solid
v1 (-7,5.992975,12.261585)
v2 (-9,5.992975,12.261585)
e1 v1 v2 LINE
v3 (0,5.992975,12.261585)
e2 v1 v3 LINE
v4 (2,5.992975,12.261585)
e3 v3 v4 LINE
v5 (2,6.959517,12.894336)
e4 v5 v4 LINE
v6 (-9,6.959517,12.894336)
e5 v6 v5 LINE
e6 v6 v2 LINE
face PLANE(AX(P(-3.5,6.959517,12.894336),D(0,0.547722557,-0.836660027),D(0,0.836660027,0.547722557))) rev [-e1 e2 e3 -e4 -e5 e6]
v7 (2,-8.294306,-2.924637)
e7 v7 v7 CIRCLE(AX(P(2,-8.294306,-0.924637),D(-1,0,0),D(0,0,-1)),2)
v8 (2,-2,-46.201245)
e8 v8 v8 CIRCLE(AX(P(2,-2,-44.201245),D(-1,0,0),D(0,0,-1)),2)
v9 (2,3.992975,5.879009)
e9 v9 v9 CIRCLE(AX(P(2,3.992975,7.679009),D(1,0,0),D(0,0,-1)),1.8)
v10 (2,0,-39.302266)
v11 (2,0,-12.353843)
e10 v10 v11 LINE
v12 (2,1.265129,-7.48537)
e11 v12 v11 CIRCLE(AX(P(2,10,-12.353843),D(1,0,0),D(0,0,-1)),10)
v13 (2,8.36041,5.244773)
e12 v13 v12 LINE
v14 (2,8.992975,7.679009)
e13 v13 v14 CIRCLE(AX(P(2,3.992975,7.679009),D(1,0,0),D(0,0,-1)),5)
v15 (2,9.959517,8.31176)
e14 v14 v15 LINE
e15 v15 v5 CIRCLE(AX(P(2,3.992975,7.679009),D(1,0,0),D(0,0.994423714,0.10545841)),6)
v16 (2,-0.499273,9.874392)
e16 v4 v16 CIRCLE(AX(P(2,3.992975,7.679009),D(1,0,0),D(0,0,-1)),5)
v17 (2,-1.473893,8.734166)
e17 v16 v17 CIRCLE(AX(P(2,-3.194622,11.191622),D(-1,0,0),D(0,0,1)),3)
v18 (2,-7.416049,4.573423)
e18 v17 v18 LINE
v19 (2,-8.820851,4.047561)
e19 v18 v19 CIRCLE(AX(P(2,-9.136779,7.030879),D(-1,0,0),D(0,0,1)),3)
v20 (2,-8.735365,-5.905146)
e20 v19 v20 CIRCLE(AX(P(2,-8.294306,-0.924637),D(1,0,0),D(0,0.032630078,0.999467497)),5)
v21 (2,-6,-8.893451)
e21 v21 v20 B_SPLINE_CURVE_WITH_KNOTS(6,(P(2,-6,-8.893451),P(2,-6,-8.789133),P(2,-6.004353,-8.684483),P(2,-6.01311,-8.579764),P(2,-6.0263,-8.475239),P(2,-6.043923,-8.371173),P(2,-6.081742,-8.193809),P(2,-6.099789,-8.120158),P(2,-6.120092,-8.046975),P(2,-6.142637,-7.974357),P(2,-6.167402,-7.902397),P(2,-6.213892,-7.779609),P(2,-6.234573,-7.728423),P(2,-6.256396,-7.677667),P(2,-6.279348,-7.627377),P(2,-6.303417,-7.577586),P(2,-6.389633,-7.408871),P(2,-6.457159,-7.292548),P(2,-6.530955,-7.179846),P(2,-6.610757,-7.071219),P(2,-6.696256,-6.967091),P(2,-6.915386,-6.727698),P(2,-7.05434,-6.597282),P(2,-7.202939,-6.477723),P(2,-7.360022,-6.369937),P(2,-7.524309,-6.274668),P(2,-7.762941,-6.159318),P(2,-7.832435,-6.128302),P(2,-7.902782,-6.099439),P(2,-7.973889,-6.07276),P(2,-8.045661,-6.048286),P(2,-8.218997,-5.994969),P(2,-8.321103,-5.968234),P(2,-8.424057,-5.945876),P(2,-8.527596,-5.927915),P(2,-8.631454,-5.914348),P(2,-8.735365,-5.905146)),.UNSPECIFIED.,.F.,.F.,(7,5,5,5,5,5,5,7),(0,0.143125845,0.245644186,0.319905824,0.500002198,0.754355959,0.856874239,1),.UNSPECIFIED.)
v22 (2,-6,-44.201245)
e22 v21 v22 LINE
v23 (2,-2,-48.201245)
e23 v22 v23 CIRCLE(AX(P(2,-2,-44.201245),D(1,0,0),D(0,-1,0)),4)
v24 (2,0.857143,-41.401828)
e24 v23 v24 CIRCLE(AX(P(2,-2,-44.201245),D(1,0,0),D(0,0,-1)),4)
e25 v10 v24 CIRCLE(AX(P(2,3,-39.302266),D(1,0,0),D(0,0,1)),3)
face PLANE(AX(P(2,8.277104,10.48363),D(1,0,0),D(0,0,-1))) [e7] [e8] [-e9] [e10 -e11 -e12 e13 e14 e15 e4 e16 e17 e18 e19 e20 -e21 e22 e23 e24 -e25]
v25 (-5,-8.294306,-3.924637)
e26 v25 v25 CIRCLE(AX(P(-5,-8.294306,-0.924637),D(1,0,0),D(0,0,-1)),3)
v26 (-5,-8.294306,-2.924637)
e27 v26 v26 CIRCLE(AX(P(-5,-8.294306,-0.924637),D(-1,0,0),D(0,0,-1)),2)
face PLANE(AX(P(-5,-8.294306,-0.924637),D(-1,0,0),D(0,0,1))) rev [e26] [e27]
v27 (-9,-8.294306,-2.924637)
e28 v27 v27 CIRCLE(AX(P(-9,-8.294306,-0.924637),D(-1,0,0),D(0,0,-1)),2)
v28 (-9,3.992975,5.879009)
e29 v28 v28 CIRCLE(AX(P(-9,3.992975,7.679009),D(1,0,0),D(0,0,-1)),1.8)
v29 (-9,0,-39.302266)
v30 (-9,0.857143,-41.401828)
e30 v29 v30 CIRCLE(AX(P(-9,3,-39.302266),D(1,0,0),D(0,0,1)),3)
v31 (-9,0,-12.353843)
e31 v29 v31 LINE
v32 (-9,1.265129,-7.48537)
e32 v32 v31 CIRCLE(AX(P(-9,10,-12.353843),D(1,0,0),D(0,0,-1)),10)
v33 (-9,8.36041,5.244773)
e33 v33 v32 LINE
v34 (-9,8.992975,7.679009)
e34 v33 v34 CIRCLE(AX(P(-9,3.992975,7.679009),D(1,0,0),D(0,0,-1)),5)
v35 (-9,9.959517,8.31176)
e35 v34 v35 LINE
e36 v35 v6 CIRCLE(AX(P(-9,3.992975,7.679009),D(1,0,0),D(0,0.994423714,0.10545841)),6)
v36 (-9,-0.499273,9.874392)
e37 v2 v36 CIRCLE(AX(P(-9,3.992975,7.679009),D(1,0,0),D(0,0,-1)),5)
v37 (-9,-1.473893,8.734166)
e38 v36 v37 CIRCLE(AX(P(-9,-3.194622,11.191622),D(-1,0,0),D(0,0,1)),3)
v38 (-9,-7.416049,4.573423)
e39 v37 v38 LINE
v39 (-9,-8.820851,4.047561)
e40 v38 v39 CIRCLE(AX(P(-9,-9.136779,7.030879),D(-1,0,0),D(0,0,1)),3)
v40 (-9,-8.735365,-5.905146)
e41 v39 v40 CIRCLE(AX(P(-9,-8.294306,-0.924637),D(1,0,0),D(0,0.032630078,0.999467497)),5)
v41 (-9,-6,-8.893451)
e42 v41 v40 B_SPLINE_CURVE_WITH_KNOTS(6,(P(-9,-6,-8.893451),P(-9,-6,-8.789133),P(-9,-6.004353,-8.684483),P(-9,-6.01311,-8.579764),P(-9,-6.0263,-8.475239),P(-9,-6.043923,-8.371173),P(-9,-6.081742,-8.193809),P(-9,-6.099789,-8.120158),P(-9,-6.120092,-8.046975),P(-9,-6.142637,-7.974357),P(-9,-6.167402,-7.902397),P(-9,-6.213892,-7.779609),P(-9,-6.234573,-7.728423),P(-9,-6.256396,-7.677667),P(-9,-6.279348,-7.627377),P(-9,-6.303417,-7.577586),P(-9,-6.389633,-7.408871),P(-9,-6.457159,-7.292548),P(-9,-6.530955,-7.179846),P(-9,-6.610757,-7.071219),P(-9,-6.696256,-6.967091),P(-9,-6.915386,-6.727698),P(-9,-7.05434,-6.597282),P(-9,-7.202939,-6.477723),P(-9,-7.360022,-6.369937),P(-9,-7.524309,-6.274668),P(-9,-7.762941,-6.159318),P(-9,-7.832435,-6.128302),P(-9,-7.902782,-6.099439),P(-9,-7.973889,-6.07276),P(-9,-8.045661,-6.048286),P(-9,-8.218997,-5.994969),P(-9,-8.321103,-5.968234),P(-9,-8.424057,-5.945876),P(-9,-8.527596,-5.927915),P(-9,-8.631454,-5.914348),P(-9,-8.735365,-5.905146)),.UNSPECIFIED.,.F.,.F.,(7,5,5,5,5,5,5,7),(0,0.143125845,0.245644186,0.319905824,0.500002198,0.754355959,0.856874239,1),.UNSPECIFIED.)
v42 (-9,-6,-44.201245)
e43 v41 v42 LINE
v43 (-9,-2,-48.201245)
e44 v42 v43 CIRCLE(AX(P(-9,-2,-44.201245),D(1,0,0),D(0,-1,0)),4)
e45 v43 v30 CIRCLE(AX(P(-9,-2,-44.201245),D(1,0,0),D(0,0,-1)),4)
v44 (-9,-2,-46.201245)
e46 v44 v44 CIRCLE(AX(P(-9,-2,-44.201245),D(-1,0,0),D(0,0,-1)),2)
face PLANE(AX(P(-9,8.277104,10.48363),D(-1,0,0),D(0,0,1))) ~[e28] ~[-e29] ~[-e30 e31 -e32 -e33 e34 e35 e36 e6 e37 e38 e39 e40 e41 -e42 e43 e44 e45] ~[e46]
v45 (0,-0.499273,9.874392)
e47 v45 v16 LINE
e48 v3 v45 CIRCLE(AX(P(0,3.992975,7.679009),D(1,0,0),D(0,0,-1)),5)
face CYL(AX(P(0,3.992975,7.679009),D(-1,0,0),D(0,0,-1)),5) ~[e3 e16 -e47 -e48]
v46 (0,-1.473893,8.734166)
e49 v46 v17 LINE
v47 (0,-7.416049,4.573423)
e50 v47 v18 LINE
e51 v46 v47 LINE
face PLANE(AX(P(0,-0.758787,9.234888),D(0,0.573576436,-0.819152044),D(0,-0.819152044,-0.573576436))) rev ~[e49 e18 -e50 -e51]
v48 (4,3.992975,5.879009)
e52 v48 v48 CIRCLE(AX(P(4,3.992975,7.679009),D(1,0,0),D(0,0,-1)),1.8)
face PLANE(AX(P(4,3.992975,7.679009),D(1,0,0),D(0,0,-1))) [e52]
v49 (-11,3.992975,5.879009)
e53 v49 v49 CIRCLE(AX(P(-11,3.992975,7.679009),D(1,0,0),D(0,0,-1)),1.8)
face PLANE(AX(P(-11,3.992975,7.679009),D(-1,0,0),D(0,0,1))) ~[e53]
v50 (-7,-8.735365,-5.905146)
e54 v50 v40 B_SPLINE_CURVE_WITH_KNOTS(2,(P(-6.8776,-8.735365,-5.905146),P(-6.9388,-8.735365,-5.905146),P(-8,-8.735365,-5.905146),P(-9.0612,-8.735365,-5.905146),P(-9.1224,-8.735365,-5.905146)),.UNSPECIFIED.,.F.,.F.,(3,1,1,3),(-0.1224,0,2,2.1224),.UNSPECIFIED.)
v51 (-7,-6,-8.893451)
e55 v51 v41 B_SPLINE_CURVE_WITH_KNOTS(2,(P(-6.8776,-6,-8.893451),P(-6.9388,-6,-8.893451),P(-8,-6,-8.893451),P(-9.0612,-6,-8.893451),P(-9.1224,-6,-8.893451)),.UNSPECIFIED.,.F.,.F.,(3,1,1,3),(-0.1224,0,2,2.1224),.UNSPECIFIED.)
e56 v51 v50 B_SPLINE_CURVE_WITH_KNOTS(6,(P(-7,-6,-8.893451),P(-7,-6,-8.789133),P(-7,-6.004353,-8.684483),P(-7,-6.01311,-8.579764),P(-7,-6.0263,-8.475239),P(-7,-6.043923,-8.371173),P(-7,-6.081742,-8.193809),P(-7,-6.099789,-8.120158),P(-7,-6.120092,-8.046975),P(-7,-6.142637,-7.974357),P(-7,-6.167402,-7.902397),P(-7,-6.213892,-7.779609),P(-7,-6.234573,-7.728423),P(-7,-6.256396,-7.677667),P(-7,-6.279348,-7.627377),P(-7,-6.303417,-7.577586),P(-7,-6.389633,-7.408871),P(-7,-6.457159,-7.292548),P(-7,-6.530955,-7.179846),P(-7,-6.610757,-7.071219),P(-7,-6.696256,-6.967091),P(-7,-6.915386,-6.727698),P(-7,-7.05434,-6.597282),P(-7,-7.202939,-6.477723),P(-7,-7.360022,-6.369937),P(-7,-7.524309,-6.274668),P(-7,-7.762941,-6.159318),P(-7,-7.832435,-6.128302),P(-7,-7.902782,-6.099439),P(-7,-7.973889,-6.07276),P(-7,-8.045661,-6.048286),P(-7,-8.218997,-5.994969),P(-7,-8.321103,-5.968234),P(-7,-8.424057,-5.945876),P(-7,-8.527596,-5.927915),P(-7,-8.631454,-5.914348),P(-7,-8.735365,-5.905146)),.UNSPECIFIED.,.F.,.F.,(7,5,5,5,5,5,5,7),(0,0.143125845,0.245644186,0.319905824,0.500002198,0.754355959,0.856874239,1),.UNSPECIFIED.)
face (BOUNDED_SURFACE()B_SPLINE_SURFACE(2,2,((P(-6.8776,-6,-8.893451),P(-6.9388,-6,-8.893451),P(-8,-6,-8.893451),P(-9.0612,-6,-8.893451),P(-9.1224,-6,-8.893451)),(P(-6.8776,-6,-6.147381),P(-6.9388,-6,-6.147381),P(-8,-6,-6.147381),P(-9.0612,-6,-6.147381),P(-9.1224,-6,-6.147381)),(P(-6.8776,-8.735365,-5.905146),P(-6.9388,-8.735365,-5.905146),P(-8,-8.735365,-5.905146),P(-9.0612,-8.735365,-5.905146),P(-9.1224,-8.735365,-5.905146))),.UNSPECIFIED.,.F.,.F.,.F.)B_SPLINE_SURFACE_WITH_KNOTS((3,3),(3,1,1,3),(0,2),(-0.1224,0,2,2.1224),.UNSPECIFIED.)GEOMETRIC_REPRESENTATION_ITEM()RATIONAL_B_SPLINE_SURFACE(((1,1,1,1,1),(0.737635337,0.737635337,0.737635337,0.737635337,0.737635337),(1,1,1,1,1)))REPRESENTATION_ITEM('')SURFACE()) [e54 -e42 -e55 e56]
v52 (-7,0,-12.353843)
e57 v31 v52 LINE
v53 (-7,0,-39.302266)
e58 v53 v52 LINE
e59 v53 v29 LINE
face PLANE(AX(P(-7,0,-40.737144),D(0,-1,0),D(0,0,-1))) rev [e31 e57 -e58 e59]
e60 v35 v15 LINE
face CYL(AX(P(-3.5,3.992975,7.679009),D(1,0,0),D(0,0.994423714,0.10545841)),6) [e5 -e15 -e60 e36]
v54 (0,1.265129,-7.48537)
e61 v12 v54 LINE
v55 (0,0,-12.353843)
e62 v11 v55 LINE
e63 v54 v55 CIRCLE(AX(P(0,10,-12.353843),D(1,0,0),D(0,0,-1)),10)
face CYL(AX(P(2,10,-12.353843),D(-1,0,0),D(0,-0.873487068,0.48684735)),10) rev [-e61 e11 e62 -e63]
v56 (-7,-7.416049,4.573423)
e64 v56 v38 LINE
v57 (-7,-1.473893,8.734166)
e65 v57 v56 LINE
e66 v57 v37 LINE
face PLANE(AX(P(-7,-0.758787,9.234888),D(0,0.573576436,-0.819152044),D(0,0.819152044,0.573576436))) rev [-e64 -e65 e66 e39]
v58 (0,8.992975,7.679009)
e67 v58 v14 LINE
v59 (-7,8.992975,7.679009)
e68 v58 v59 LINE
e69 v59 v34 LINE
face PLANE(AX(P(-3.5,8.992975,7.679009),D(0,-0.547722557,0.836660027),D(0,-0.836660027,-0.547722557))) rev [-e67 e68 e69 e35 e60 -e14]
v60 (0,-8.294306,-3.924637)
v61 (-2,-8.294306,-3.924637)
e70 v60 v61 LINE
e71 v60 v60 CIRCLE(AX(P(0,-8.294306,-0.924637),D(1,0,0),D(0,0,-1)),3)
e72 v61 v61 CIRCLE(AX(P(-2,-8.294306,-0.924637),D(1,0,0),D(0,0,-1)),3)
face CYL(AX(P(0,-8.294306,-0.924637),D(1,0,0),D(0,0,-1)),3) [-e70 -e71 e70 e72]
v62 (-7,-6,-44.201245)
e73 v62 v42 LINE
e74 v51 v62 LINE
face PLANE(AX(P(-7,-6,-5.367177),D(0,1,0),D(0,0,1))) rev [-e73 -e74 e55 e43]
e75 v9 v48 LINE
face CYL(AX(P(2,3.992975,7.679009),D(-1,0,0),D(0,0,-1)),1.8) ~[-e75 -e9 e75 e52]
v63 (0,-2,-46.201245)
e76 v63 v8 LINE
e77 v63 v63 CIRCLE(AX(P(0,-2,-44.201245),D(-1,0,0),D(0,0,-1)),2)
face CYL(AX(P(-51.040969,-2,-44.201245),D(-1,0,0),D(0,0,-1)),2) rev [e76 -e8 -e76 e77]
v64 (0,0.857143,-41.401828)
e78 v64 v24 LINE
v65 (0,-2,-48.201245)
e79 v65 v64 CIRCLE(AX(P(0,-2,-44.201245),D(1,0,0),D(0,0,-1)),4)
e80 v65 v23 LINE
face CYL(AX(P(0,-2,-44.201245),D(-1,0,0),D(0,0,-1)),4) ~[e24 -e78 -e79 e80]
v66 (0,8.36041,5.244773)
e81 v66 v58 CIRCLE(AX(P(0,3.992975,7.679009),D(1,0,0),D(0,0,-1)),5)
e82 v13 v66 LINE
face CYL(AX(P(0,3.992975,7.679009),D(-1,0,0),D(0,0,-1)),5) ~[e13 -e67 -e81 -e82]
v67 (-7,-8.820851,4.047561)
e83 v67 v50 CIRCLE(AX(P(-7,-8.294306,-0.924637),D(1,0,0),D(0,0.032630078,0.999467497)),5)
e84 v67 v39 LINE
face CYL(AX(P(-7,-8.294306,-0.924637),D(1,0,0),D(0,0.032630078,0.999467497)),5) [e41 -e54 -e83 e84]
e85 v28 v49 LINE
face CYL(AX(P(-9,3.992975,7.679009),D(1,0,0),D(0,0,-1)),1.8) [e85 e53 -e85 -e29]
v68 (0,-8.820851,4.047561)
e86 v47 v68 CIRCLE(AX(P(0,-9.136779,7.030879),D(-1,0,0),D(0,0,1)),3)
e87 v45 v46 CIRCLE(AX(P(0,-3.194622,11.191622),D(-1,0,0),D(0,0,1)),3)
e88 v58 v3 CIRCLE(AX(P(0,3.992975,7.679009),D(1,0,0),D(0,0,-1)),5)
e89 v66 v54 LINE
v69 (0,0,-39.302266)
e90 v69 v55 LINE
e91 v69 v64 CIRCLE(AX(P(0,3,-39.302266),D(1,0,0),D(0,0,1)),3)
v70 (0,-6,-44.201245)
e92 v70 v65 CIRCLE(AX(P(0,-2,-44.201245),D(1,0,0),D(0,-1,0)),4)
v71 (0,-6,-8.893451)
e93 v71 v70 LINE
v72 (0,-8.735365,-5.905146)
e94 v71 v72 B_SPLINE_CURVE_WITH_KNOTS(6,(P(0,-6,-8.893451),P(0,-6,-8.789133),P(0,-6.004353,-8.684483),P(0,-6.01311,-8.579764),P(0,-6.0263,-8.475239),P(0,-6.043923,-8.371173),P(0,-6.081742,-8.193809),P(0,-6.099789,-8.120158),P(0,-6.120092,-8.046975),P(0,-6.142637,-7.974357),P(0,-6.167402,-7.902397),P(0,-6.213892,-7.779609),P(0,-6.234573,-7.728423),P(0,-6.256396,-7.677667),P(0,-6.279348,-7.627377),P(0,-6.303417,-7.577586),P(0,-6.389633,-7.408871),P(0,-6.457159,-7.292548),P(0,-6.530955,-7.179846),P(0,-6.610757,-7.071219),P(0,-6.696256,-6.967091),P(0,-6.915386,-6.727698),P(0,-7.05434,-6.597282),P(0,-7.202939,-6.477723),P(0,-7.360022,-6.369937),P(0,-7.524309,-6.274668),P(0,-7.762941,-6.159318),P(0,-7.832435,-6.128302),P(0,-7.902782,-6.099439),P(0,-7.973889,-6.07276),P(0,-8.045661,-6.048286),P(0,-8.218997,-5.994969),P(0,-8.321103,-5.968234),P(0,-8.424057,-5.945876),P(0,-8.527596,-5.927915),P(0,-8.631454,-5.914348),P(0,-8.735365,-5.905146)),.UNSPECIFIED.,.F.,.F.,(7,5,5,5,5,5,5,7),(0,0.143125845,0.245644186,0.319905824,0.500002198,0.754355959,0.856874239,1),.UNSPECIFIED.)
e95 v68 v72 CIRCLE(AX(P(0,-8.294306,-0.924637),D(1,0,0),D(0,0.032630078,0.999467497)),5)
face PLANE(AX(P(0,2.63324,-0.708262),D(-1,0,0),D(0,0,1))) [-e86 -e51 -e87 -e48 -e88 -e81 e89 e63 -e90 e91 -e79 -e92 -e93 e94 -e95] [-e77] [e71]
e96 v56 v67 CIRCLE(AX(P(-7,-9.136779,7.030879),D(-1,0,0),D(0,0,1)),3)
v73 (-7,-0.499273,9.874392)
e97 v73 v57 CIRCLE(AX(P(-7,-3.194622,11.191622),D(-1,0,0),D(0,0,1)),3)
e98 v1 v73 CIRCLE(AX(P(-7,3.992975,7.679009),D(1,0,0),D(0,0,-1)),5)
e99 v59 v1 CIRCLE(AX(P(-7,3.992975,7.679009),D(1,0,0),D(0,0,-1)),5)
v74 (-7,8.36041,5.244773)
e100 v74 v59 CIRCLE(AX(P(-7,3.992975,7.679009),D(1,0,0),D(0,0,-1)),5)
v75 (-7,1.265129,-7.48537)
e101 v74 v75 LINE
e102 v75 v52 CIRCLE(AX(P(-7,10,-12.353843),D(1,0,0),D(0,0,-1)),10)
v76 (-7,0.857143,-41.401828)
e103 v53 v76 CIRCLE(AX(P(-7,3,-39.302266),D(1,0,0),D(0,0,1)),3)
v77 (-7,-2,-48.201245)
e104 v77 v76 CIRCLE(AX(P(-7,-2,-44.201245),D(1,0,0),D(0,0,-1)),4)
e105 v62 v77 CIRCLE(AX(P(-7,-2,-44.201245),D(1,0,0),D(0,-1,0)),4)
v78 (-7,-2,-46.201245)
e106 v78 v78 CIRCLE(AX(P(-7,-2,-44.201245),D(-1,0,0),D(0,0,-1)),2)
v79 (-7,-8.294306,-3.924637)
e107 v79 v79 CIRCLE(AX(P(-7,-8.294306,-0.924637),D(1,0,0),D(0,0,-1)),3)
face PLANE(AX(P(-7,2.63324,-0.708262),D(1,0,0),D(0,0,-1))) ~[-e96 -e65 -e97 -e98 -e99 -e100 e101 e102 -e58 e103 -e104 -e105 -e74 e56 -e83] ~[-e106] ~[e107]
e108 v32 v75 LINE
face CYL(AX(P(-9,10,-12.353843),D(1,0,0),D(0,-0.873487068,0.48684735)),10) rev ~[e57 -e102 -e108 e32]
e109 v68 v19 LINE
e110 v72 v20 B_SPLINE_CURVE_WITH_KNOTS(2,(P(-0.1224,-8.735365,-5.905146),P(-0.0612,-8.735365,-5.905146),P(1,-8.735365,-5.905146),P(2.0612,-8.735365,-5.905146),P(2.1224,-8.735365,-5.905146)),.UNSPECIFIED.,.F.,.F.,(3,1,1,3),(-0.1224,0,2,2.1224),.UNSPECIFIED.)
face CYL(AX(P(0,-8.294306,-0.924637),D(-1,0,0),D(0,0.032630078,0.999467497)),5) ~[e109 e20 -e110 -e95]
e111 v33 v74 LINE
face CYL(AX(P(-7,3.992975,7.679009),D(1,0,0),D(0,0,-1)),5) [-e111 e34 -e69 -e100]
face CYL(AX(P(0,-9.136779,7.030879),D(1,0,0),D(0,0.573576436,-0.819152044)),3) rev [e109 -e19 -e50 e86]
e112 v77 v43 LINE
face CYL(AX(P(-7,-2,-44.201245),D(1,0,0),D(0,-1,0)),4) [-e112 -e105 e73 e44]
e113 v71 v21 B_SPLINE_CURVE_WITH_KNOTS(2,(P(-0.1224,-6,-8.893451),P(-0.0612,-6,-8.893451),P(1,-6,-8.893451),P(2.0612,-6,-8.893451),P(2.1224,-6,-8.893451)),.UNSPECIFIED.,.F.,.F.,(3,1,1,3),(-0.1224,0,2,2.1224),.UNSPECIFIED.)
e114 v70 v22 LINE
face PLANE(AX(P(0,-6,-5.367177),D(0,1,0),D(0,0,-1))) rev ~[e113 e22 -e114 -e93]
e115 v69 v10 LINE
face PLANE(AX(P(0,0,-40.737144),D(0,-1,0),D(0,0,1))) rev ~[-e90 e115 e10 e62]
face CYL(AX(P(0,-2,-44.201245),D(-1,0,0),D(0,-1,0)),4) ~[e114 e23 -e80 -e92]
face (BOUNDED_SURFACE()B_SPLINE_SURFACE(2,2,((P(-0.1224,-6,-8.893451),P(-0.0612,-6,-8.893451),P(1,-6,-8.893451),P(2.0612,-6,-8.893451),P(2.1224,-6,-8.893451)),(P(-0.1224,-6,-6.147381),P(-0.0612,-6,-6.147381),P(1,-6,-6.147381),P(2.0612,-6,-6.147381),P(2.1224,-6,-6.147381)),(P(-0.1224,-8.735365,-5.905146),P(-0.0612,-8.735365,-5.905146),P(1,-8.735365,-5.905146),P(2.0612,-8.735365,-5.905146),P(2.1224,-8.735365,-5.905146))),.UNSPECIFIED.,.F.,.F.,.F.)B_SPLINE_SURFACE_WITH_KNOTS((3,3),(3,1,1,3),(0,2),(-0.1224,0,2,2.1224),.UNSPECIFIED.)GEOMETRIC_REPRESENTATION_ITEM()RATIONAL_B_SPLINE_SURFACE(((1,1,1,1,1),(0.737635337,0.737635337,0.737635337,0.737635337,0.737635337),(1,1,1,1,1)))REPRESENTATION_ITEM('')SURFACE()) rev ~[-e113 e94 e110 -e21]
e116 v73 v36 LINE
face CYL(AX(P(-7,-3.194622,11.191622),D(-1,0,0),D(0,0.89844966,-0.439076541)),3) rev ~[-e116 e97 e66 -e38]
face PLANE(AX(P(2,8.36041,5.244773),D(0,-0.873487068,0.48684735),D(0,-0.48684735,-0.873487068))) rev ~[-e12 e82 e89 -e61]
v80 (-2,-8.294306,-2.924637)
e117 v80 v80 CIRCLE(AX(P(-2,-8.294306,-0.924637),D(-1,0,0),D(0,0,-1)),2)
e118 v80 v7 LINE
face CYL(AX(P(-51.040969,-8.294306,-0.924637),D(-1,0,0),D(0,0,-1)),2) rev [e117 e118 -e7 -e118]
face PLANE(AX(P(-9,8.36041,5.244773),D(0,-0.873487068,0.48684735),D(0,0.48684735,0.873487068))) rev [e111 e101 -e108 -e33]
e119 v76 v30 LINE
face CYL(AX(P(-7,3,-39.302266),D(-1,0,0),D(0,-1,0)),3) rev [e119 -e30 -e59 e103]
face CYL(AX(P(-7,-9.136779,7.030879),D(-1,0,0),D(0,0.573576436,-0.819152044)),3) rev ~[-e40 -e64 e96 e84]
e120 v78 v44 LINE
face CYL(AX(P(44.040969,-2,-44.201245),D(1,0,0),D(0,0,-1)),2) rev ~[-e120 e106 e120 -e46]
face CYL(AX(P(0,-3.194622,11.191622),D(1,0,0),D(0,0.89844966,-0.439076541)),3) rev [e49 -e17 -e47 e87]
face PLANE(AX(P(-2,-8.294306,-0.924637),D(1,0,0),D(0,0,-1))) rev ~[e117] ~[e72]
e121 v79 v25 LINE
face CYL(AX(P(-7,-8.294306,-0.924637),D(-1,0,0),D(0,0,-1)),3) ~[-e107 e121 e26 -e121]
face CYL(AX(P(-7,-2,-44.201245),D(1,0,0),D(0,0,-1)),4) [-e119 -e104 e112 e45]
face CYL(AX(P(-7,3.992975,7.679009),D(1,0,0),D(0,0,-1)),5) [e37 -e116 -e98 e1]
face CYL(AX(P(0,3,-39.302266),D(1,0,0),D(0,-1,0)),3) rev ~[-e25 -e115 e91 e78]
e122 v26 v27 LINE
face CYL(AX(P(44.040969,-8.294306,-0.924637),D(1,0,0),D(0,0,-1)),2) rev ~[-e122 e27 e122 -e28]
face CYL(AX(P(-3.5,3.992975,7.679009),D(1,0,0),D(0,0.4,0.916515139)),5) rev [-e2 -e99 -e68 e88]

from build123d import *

# Parameters (mm, degrees)
EXTRUDE_1_DEPTH          = 2
SKETCH_1_4_R             = 3
EXTRUDE_2_DEPTH          = 2
CUT_EXTRUDE_1_DEPTH      = 51.040969284
CUT_EXTRUDE_1_DEPTH_BACK = 51.040969284
SKETCH_1_3_R             = 2
FILLET_1_R               = 3
EXTRUDE_START            = -2
SKETCH_2_R               = 2
EXTRUDE_3_DEPTH          = 2
SKETCH_2_3_R             = 1.8
EXTRUDE_4_DEPTH          = 2
EXTRUDE_6_DEPTH          = 2
EXTRUDE_START_2          = -5.5
EXTRUDE_5_DEPTH          = 5.5
FILLET_3_R               = 10


with BuildPart() as part:
    # 草图1 → 凸台-拉伸1 (new body)
    with BuildSketch(Plane(origin=(0, 0, 0), x_dir=(0, 0, -1), z_dir=(1, 0, 0))):
        with BuildLine():
            Line((40.737143614, 0), (0, 0))
            Line((0, 0), (2.48051592, -3.542543867))
            ThreePointArc((2.48051592, -3.542543867), (4.165783411, -4.487079684), (5.367176995, -6))
            Line((5.367176995, -6), (44.201245229, -6))
            ThreePointArc((44.201245229, -6), (40.737143614, -4), (40.737143614, 0))
        make_face()
        with BuildLine():
            Line((2.48051592, -3.542543867), (0, 0))
            Line((0, 0), (-2.681672007, 3.829824531))
            ThreePointArc((-2.681672007, 3.829824531), (-4.811127311, -0.102785303), (-9.234888361, -0.758786959))
            Line((-9.234888361, -0.758786959), (-4.072700434, -8.131155358))
            ThreePointArc((-4.072700434, -8.131155358), (-1.94324513, -4.198545524), (2.48051592, -3.542543867))
        make_face()
        with BuildLine():
            ThreePointArc((48.201245229, -2), (45.23652141, 1.863703305), (40.737143614, 0))
            Line((40.737143614, 0), (44.201245229, 0))
            ThreePointArc((44.201245229, 0), (45.615458792, -0.585786438), (46.201245229, -2))
            ThreePointArc((46.201245229, -2), (45.615458792, -3.414213562), (44.201245229, -4))
            Line((44.201245229, -4), (44.201245229, -6))
            ThreePointArc((44.201245229, -6), (47.029672354, -4.828427125), (48.201245229, -2))
        make_face()
        with BuildLine():
            Line((44.201245229, 0), (40.737143614, 0))
            ThreePointArc((40.737143614, 0), (40.737143614, -4), (44.201245229, -6))
            Line((44.201245229, -6), (44.201245229, -4))
            ThreePointArc((44.201245229, -4), (42.201245229, -2), (44.201245229, 0))
        make_face()
        with BuildLine():
            ThreePointArc((5.367176995, -6), (4.165783411, -4.487079684), (2.48051592, -3.542543867))
            Line((2.48051592, -3.542543867), (4.201245229, -6))
            Line((4.201245229, -6), (5.367176995, -6))
        make_face()
        with BuildLine():
            Line((4.201245229, -6), (2.48051592, -3.542543867))
            ThreePointArc((2.48051592, -3.542543867), (-1.94324513, -4.198545524), (-4.072700434, -8.131155358))
            Line((-4.072700434, -8.131155358), (-2.351971125, -10.588611491))
            Line((-2.351971125, -10.588611491), (-1.532819081, -10.015035054))
            ThreePointArc((-1.532819081, -10.015035054), (-0.796092257, -5.836849613), (3.382093185, -6.573576436))
            Line((3.382093185, -6.573576436), (4.201245229, -6))
        make_face()
        with BuildLine():
            ThreePointArc((-9.234888361, -0.758786959), (-4.811127311, -0.102785303), (-2.681672007, 3.829824531))
            Line((-2.681672007, 3.829824531), (-4.402401316, 6.287280664))
            Line((-4.402401316, 6.287280664), (-6.040705405, 5.140127792))
            ThreePointArc((-6.040705405, 5.140127792), (-5.771575592, 4.594386518), (-5.679009493, 3.992974919))
            ThreePointArc((-5.679009493, 3.992974919), (-7.077597894, 2.085541017), (-9.317313582, 2.845822046))
            Line((-9.317313582, 2.845822046), (-10.95561767, 1.698669174))
            Line((-10.95561767, 1.698669174), (-9.234888361, -0.758786959))
        make_face()
        with BuildLine():
            Line((-4.402401316, 6.287280664), (-2.681672007, 3.829824531))
            ThreePointArc((-2.681672007, 3.829824531), (-2.679675166, 3.911388863), (-2.679009493, 3.992974919))
            ThreePointArc((-2.679009493, 3.992974919), (-10.613341245, 8.041394014), (-9.234888361, -0.758786959))
            Line((-9.234888361, -0.758786959), (-10.95561767, 1.698669174))
            Line((-10.95561767, 1.698669174), (-9.317313582, 2.845822046))
            ThreePointArc((-9.317313582, 2.845822046), (-8.826162366, 5.631279008), (-6.040705405, 5.140127792))
            Line((-6.040705405, 5.140127792), (-4.402401316, 6.287280664))
        make_face()
        with BuildLine():
            ThreePointArc((46.201245229, -2), (45.615458792, -0.585786438), (44.201245229, 0))
            Line((44.201245229, 0), (44.201245229, -4))
            ThreePointArc((44.201245229, -4), (45.615458792, -3.414213562), (46.201245229, -2))
        make_face()
        with BuildLine():
            Line((44.201245229, -4), (44.201245229, 0))
            ThreePointArc((44.201245229, 0), (42.201245229, -2), (44.201245229, -4))
        make_face()
        with BuildLine():
            Line((5.367176995, -6), (4.201245229, -6))
            Line((4.201245229, -6), (3.382093185, -6.573576436))
            ThreePointArc((3.382093185, -6.573576436), (3.785787904, -7.392188347), (3.924637052, -8.294305745))
            ThreePointArc((3.924637052, -8.294305745), (1.826754451, -11.155456598), (-1.532819081, -10.015035054))
            Line((-1.532819081, -10.015035054), (-2.351971125, -10.588611491))
            Line((-2.351971125, -10.588611491), (-4.072700434, -8.131155358))
            ThreePointArc((-4.072700434, -8.131155358), (0.843050996, -13.293640073), (5.924637052, -8.294305745))
            ThreePointArc((5.924637052, -8.294305745), (5.783273678, -7.113776143), (5.367176995, -6))
        make_face()
        with BuildLine():
            ThreePointArc((3.924637052, -8.294305745), (3.785787904, -7.392188347), (3.382093185, -6.573576436))
            Line((3.382093185, -6.573576436), (2.562941141, -7.147152873))
            ThreePointArc((2.562941141, -7.147152873), (2.832070954, -7.692894146), (2.924637052, -8.294305745))
            ThreePointArc((2.924637052, -8.294305745), (1.526048651, -10.201739647), (-0.713667036, -9.441458618))
            Line((-0.713667036, -9.441458618), (-1.532819081, -10.015035054))
            ThreePointArc((-1.532819081, -10.015035054), (1.826754451, -11.155456598), (3.924637052, -8.294305745))
        make_face()
        with BuildLine():
            Line((2.562941141, -7.147152873), (3.382093185, -6.573576436))
            ThreePointArc((3.382093185, -6.573576436), (-0.796092257, -5.836849613), (-1.532819081, -10.015035054))
            Line((-1.532819081, -10.015035054), (-0.713667036, -9.441458618))
            ThreePointArc((-0.713667036, -9.441458618), (-0.222515821, -6.656001657), (2.562941141, -7.147152873))
        make_face()
        with BuildLine():
            ThreePointArc((-5.679009493, 3.992974919), (-5.771575592, 4.594386518), (-6.040705405, 5.140127792))
            Line((-6.040705405, 5.140127792), (-9.317313582, 2.845822046))
            ThreePointArc((-9.317313582, 2.845822046), (-7.077597894, 2.085541017), (-5.679009493, 3.992974919))
        make_face()
        with BuildLine():
            Line((-9.317313582, 2.845822046), (-6.040705405, 5.140127792))
            ThreePointArc((-6.040705405, 5.140127792), (-8.826162366, 5.631279008), (-9.317313582, 2.845822046))
        make_face()
        with BuildLine():
            ThreePointArc((2.924637052, -8.294305745), (2.832070954, -7.692894146), (2.562941141, -7.147152873))
            Line((2.562941141, -7.147152873), (-0.713667036, -9.441458618))
            ThreePointArc((-0.713667036, -9.441458618), (1.526048651, -10.201739647), (2.924637052, -8.294305745))
        make_face()
        with BuildLine():
            Line((-0.713667036, -9.441458618), (2.562941141, -7.147152873))
            ThreePointArc((2.562941141, -7.147152873), (-0.222515821, -6.656001657), (-0.713667036, -9.441458618))
        make_face()
    extrude(amount=EXTRUDE_1_DEPTH)

    # 草图1<4> → 凸台-拉伸2 (add)
    with BuildSketch(Plane(origin=(0, 0, 0), x_dir=(0, 0, -1), z_dir=(1, 0, 0))):
        with Locations((0.924637052, -8.294305745)):
            Circle(SKETCH_1_4_R)
    extrude(amount=-EXTRUDE_2_DEPTH)

    # 草图1<3> → 切除-拉伸1 (cut, two sides: drawn at the far end of the back side and taken through both)
    with BuildSketch(Plane(origin=(0, 0, 0), x_dir=(0, 0, -1), z_dir=(1, 0, 0)).offset(-CUT_EXTRUDE_1_DEPTH_BACK)):
        with Locations((-7.679009493, 3.992974919)):
            Circle(SKETCH_1_3_R)
        with Locations((44.201245229, -2)):
            Circle(SKETCH_1_3_R)
        with Locations((0.924637052, -8.294305745)):
            Circle(SKETCH_1_3_R)
    extrude(amount=CUT_EXTRUDE_1_DEPTH + CUT_EXTRUDE_1_DEPTH_BACK, mode=Mode.SUBTRACT)

    # 圆角1
    fillet_1_edges = [part.edges().sort_by_distance(p)[0] for p in [
        (1, -6, -5.367176995),
        (1, 0, 0),
        (1, 0, -40.737143614),
        (1, -0.758786959, 9.234888361),
        (1, -8.131155358, 4.072700434),
    ]]
    fillet(fillet_1_edges, radius=FILLET_1_R)

    # 草图2 → 凸台-拉伸3 (add)
    with BuildSketch(Plane(origin=(2, 0, 0), x_dir=(0, 0, -1), z_dir=(1, 0, 0)).offset(EXTRUDE_START)):
        with Locations((-7.679009493, 3.992974919)):
            Circle(SKETCH_2_R)
    extrude(amount=EXTRUDE_3_DEPTH)

    # 草图2<3> → 凸台-拉伸4 (add)
    with BuildSketch(Plane(origin=(2, 0, 0), x_dir=(0, 0, -1), z_dir=(1, 0, 0))):
        with Locations((-7.679009493, 3.992974919)):
            Circle(SKETCH_2_3_R)
    extrude(amount=EXTRUDE_4_DEPTH)

    # 草图4 → 凸台-拉伸6 (add)
    with BuildSketch(Plane(origin=(2, 0, 0), x_dir=(0, 0, -1), z_dir=(1, 0, 0))):
        Polygon((-5.244772745, 8.360410259), (9.755227255, 0), (-5.244772745, 0), align=None)
    extrude(amount=-EXTRUDE_6_DEPTH)

    # 草图3 → 凸台-拉伸5 (add)
    with BuildSketch(Plane(origin=(2, 0, 0), x_dir=(0, 0, -1), z_dir=(1, 0, 0)).offset(EXTRUDE_START_2)):
        with BuildLine():
            Line((-12.894335644, 6.959517206), (-12.261585188, 5.992974919))
            ThreePointArc((-12.261585188, 5.992974919), (-10.417622281, 8.176275052), (-7.679009493, 8.992974919))
            Line((-7.679009493, 8.992974919), (-8.311759949, 9.959517206))
            ThreePointArc((-8.311759949, 9.959517206), (-10.965344838, 9.012935078), (-12.894335644, 6.959517206))
        make_face()
    extrude(amount=EXTRUDE_5_DEPTH)

    # 圆角3
    fillet_3_edges = [part.edges().sort_by_distance(p)[0] for p in [
        (1, 0, -9.755227255),
    ]]
    fillet(fillet_3_edges, radius=FILLET_3_R)

    # 镜向1: part across plane


with BuildPart() as part_1:
    add(part.part)
    add(part.part.mirror(Plane.ZY.offset(3.5)))


solid = part_1.part
